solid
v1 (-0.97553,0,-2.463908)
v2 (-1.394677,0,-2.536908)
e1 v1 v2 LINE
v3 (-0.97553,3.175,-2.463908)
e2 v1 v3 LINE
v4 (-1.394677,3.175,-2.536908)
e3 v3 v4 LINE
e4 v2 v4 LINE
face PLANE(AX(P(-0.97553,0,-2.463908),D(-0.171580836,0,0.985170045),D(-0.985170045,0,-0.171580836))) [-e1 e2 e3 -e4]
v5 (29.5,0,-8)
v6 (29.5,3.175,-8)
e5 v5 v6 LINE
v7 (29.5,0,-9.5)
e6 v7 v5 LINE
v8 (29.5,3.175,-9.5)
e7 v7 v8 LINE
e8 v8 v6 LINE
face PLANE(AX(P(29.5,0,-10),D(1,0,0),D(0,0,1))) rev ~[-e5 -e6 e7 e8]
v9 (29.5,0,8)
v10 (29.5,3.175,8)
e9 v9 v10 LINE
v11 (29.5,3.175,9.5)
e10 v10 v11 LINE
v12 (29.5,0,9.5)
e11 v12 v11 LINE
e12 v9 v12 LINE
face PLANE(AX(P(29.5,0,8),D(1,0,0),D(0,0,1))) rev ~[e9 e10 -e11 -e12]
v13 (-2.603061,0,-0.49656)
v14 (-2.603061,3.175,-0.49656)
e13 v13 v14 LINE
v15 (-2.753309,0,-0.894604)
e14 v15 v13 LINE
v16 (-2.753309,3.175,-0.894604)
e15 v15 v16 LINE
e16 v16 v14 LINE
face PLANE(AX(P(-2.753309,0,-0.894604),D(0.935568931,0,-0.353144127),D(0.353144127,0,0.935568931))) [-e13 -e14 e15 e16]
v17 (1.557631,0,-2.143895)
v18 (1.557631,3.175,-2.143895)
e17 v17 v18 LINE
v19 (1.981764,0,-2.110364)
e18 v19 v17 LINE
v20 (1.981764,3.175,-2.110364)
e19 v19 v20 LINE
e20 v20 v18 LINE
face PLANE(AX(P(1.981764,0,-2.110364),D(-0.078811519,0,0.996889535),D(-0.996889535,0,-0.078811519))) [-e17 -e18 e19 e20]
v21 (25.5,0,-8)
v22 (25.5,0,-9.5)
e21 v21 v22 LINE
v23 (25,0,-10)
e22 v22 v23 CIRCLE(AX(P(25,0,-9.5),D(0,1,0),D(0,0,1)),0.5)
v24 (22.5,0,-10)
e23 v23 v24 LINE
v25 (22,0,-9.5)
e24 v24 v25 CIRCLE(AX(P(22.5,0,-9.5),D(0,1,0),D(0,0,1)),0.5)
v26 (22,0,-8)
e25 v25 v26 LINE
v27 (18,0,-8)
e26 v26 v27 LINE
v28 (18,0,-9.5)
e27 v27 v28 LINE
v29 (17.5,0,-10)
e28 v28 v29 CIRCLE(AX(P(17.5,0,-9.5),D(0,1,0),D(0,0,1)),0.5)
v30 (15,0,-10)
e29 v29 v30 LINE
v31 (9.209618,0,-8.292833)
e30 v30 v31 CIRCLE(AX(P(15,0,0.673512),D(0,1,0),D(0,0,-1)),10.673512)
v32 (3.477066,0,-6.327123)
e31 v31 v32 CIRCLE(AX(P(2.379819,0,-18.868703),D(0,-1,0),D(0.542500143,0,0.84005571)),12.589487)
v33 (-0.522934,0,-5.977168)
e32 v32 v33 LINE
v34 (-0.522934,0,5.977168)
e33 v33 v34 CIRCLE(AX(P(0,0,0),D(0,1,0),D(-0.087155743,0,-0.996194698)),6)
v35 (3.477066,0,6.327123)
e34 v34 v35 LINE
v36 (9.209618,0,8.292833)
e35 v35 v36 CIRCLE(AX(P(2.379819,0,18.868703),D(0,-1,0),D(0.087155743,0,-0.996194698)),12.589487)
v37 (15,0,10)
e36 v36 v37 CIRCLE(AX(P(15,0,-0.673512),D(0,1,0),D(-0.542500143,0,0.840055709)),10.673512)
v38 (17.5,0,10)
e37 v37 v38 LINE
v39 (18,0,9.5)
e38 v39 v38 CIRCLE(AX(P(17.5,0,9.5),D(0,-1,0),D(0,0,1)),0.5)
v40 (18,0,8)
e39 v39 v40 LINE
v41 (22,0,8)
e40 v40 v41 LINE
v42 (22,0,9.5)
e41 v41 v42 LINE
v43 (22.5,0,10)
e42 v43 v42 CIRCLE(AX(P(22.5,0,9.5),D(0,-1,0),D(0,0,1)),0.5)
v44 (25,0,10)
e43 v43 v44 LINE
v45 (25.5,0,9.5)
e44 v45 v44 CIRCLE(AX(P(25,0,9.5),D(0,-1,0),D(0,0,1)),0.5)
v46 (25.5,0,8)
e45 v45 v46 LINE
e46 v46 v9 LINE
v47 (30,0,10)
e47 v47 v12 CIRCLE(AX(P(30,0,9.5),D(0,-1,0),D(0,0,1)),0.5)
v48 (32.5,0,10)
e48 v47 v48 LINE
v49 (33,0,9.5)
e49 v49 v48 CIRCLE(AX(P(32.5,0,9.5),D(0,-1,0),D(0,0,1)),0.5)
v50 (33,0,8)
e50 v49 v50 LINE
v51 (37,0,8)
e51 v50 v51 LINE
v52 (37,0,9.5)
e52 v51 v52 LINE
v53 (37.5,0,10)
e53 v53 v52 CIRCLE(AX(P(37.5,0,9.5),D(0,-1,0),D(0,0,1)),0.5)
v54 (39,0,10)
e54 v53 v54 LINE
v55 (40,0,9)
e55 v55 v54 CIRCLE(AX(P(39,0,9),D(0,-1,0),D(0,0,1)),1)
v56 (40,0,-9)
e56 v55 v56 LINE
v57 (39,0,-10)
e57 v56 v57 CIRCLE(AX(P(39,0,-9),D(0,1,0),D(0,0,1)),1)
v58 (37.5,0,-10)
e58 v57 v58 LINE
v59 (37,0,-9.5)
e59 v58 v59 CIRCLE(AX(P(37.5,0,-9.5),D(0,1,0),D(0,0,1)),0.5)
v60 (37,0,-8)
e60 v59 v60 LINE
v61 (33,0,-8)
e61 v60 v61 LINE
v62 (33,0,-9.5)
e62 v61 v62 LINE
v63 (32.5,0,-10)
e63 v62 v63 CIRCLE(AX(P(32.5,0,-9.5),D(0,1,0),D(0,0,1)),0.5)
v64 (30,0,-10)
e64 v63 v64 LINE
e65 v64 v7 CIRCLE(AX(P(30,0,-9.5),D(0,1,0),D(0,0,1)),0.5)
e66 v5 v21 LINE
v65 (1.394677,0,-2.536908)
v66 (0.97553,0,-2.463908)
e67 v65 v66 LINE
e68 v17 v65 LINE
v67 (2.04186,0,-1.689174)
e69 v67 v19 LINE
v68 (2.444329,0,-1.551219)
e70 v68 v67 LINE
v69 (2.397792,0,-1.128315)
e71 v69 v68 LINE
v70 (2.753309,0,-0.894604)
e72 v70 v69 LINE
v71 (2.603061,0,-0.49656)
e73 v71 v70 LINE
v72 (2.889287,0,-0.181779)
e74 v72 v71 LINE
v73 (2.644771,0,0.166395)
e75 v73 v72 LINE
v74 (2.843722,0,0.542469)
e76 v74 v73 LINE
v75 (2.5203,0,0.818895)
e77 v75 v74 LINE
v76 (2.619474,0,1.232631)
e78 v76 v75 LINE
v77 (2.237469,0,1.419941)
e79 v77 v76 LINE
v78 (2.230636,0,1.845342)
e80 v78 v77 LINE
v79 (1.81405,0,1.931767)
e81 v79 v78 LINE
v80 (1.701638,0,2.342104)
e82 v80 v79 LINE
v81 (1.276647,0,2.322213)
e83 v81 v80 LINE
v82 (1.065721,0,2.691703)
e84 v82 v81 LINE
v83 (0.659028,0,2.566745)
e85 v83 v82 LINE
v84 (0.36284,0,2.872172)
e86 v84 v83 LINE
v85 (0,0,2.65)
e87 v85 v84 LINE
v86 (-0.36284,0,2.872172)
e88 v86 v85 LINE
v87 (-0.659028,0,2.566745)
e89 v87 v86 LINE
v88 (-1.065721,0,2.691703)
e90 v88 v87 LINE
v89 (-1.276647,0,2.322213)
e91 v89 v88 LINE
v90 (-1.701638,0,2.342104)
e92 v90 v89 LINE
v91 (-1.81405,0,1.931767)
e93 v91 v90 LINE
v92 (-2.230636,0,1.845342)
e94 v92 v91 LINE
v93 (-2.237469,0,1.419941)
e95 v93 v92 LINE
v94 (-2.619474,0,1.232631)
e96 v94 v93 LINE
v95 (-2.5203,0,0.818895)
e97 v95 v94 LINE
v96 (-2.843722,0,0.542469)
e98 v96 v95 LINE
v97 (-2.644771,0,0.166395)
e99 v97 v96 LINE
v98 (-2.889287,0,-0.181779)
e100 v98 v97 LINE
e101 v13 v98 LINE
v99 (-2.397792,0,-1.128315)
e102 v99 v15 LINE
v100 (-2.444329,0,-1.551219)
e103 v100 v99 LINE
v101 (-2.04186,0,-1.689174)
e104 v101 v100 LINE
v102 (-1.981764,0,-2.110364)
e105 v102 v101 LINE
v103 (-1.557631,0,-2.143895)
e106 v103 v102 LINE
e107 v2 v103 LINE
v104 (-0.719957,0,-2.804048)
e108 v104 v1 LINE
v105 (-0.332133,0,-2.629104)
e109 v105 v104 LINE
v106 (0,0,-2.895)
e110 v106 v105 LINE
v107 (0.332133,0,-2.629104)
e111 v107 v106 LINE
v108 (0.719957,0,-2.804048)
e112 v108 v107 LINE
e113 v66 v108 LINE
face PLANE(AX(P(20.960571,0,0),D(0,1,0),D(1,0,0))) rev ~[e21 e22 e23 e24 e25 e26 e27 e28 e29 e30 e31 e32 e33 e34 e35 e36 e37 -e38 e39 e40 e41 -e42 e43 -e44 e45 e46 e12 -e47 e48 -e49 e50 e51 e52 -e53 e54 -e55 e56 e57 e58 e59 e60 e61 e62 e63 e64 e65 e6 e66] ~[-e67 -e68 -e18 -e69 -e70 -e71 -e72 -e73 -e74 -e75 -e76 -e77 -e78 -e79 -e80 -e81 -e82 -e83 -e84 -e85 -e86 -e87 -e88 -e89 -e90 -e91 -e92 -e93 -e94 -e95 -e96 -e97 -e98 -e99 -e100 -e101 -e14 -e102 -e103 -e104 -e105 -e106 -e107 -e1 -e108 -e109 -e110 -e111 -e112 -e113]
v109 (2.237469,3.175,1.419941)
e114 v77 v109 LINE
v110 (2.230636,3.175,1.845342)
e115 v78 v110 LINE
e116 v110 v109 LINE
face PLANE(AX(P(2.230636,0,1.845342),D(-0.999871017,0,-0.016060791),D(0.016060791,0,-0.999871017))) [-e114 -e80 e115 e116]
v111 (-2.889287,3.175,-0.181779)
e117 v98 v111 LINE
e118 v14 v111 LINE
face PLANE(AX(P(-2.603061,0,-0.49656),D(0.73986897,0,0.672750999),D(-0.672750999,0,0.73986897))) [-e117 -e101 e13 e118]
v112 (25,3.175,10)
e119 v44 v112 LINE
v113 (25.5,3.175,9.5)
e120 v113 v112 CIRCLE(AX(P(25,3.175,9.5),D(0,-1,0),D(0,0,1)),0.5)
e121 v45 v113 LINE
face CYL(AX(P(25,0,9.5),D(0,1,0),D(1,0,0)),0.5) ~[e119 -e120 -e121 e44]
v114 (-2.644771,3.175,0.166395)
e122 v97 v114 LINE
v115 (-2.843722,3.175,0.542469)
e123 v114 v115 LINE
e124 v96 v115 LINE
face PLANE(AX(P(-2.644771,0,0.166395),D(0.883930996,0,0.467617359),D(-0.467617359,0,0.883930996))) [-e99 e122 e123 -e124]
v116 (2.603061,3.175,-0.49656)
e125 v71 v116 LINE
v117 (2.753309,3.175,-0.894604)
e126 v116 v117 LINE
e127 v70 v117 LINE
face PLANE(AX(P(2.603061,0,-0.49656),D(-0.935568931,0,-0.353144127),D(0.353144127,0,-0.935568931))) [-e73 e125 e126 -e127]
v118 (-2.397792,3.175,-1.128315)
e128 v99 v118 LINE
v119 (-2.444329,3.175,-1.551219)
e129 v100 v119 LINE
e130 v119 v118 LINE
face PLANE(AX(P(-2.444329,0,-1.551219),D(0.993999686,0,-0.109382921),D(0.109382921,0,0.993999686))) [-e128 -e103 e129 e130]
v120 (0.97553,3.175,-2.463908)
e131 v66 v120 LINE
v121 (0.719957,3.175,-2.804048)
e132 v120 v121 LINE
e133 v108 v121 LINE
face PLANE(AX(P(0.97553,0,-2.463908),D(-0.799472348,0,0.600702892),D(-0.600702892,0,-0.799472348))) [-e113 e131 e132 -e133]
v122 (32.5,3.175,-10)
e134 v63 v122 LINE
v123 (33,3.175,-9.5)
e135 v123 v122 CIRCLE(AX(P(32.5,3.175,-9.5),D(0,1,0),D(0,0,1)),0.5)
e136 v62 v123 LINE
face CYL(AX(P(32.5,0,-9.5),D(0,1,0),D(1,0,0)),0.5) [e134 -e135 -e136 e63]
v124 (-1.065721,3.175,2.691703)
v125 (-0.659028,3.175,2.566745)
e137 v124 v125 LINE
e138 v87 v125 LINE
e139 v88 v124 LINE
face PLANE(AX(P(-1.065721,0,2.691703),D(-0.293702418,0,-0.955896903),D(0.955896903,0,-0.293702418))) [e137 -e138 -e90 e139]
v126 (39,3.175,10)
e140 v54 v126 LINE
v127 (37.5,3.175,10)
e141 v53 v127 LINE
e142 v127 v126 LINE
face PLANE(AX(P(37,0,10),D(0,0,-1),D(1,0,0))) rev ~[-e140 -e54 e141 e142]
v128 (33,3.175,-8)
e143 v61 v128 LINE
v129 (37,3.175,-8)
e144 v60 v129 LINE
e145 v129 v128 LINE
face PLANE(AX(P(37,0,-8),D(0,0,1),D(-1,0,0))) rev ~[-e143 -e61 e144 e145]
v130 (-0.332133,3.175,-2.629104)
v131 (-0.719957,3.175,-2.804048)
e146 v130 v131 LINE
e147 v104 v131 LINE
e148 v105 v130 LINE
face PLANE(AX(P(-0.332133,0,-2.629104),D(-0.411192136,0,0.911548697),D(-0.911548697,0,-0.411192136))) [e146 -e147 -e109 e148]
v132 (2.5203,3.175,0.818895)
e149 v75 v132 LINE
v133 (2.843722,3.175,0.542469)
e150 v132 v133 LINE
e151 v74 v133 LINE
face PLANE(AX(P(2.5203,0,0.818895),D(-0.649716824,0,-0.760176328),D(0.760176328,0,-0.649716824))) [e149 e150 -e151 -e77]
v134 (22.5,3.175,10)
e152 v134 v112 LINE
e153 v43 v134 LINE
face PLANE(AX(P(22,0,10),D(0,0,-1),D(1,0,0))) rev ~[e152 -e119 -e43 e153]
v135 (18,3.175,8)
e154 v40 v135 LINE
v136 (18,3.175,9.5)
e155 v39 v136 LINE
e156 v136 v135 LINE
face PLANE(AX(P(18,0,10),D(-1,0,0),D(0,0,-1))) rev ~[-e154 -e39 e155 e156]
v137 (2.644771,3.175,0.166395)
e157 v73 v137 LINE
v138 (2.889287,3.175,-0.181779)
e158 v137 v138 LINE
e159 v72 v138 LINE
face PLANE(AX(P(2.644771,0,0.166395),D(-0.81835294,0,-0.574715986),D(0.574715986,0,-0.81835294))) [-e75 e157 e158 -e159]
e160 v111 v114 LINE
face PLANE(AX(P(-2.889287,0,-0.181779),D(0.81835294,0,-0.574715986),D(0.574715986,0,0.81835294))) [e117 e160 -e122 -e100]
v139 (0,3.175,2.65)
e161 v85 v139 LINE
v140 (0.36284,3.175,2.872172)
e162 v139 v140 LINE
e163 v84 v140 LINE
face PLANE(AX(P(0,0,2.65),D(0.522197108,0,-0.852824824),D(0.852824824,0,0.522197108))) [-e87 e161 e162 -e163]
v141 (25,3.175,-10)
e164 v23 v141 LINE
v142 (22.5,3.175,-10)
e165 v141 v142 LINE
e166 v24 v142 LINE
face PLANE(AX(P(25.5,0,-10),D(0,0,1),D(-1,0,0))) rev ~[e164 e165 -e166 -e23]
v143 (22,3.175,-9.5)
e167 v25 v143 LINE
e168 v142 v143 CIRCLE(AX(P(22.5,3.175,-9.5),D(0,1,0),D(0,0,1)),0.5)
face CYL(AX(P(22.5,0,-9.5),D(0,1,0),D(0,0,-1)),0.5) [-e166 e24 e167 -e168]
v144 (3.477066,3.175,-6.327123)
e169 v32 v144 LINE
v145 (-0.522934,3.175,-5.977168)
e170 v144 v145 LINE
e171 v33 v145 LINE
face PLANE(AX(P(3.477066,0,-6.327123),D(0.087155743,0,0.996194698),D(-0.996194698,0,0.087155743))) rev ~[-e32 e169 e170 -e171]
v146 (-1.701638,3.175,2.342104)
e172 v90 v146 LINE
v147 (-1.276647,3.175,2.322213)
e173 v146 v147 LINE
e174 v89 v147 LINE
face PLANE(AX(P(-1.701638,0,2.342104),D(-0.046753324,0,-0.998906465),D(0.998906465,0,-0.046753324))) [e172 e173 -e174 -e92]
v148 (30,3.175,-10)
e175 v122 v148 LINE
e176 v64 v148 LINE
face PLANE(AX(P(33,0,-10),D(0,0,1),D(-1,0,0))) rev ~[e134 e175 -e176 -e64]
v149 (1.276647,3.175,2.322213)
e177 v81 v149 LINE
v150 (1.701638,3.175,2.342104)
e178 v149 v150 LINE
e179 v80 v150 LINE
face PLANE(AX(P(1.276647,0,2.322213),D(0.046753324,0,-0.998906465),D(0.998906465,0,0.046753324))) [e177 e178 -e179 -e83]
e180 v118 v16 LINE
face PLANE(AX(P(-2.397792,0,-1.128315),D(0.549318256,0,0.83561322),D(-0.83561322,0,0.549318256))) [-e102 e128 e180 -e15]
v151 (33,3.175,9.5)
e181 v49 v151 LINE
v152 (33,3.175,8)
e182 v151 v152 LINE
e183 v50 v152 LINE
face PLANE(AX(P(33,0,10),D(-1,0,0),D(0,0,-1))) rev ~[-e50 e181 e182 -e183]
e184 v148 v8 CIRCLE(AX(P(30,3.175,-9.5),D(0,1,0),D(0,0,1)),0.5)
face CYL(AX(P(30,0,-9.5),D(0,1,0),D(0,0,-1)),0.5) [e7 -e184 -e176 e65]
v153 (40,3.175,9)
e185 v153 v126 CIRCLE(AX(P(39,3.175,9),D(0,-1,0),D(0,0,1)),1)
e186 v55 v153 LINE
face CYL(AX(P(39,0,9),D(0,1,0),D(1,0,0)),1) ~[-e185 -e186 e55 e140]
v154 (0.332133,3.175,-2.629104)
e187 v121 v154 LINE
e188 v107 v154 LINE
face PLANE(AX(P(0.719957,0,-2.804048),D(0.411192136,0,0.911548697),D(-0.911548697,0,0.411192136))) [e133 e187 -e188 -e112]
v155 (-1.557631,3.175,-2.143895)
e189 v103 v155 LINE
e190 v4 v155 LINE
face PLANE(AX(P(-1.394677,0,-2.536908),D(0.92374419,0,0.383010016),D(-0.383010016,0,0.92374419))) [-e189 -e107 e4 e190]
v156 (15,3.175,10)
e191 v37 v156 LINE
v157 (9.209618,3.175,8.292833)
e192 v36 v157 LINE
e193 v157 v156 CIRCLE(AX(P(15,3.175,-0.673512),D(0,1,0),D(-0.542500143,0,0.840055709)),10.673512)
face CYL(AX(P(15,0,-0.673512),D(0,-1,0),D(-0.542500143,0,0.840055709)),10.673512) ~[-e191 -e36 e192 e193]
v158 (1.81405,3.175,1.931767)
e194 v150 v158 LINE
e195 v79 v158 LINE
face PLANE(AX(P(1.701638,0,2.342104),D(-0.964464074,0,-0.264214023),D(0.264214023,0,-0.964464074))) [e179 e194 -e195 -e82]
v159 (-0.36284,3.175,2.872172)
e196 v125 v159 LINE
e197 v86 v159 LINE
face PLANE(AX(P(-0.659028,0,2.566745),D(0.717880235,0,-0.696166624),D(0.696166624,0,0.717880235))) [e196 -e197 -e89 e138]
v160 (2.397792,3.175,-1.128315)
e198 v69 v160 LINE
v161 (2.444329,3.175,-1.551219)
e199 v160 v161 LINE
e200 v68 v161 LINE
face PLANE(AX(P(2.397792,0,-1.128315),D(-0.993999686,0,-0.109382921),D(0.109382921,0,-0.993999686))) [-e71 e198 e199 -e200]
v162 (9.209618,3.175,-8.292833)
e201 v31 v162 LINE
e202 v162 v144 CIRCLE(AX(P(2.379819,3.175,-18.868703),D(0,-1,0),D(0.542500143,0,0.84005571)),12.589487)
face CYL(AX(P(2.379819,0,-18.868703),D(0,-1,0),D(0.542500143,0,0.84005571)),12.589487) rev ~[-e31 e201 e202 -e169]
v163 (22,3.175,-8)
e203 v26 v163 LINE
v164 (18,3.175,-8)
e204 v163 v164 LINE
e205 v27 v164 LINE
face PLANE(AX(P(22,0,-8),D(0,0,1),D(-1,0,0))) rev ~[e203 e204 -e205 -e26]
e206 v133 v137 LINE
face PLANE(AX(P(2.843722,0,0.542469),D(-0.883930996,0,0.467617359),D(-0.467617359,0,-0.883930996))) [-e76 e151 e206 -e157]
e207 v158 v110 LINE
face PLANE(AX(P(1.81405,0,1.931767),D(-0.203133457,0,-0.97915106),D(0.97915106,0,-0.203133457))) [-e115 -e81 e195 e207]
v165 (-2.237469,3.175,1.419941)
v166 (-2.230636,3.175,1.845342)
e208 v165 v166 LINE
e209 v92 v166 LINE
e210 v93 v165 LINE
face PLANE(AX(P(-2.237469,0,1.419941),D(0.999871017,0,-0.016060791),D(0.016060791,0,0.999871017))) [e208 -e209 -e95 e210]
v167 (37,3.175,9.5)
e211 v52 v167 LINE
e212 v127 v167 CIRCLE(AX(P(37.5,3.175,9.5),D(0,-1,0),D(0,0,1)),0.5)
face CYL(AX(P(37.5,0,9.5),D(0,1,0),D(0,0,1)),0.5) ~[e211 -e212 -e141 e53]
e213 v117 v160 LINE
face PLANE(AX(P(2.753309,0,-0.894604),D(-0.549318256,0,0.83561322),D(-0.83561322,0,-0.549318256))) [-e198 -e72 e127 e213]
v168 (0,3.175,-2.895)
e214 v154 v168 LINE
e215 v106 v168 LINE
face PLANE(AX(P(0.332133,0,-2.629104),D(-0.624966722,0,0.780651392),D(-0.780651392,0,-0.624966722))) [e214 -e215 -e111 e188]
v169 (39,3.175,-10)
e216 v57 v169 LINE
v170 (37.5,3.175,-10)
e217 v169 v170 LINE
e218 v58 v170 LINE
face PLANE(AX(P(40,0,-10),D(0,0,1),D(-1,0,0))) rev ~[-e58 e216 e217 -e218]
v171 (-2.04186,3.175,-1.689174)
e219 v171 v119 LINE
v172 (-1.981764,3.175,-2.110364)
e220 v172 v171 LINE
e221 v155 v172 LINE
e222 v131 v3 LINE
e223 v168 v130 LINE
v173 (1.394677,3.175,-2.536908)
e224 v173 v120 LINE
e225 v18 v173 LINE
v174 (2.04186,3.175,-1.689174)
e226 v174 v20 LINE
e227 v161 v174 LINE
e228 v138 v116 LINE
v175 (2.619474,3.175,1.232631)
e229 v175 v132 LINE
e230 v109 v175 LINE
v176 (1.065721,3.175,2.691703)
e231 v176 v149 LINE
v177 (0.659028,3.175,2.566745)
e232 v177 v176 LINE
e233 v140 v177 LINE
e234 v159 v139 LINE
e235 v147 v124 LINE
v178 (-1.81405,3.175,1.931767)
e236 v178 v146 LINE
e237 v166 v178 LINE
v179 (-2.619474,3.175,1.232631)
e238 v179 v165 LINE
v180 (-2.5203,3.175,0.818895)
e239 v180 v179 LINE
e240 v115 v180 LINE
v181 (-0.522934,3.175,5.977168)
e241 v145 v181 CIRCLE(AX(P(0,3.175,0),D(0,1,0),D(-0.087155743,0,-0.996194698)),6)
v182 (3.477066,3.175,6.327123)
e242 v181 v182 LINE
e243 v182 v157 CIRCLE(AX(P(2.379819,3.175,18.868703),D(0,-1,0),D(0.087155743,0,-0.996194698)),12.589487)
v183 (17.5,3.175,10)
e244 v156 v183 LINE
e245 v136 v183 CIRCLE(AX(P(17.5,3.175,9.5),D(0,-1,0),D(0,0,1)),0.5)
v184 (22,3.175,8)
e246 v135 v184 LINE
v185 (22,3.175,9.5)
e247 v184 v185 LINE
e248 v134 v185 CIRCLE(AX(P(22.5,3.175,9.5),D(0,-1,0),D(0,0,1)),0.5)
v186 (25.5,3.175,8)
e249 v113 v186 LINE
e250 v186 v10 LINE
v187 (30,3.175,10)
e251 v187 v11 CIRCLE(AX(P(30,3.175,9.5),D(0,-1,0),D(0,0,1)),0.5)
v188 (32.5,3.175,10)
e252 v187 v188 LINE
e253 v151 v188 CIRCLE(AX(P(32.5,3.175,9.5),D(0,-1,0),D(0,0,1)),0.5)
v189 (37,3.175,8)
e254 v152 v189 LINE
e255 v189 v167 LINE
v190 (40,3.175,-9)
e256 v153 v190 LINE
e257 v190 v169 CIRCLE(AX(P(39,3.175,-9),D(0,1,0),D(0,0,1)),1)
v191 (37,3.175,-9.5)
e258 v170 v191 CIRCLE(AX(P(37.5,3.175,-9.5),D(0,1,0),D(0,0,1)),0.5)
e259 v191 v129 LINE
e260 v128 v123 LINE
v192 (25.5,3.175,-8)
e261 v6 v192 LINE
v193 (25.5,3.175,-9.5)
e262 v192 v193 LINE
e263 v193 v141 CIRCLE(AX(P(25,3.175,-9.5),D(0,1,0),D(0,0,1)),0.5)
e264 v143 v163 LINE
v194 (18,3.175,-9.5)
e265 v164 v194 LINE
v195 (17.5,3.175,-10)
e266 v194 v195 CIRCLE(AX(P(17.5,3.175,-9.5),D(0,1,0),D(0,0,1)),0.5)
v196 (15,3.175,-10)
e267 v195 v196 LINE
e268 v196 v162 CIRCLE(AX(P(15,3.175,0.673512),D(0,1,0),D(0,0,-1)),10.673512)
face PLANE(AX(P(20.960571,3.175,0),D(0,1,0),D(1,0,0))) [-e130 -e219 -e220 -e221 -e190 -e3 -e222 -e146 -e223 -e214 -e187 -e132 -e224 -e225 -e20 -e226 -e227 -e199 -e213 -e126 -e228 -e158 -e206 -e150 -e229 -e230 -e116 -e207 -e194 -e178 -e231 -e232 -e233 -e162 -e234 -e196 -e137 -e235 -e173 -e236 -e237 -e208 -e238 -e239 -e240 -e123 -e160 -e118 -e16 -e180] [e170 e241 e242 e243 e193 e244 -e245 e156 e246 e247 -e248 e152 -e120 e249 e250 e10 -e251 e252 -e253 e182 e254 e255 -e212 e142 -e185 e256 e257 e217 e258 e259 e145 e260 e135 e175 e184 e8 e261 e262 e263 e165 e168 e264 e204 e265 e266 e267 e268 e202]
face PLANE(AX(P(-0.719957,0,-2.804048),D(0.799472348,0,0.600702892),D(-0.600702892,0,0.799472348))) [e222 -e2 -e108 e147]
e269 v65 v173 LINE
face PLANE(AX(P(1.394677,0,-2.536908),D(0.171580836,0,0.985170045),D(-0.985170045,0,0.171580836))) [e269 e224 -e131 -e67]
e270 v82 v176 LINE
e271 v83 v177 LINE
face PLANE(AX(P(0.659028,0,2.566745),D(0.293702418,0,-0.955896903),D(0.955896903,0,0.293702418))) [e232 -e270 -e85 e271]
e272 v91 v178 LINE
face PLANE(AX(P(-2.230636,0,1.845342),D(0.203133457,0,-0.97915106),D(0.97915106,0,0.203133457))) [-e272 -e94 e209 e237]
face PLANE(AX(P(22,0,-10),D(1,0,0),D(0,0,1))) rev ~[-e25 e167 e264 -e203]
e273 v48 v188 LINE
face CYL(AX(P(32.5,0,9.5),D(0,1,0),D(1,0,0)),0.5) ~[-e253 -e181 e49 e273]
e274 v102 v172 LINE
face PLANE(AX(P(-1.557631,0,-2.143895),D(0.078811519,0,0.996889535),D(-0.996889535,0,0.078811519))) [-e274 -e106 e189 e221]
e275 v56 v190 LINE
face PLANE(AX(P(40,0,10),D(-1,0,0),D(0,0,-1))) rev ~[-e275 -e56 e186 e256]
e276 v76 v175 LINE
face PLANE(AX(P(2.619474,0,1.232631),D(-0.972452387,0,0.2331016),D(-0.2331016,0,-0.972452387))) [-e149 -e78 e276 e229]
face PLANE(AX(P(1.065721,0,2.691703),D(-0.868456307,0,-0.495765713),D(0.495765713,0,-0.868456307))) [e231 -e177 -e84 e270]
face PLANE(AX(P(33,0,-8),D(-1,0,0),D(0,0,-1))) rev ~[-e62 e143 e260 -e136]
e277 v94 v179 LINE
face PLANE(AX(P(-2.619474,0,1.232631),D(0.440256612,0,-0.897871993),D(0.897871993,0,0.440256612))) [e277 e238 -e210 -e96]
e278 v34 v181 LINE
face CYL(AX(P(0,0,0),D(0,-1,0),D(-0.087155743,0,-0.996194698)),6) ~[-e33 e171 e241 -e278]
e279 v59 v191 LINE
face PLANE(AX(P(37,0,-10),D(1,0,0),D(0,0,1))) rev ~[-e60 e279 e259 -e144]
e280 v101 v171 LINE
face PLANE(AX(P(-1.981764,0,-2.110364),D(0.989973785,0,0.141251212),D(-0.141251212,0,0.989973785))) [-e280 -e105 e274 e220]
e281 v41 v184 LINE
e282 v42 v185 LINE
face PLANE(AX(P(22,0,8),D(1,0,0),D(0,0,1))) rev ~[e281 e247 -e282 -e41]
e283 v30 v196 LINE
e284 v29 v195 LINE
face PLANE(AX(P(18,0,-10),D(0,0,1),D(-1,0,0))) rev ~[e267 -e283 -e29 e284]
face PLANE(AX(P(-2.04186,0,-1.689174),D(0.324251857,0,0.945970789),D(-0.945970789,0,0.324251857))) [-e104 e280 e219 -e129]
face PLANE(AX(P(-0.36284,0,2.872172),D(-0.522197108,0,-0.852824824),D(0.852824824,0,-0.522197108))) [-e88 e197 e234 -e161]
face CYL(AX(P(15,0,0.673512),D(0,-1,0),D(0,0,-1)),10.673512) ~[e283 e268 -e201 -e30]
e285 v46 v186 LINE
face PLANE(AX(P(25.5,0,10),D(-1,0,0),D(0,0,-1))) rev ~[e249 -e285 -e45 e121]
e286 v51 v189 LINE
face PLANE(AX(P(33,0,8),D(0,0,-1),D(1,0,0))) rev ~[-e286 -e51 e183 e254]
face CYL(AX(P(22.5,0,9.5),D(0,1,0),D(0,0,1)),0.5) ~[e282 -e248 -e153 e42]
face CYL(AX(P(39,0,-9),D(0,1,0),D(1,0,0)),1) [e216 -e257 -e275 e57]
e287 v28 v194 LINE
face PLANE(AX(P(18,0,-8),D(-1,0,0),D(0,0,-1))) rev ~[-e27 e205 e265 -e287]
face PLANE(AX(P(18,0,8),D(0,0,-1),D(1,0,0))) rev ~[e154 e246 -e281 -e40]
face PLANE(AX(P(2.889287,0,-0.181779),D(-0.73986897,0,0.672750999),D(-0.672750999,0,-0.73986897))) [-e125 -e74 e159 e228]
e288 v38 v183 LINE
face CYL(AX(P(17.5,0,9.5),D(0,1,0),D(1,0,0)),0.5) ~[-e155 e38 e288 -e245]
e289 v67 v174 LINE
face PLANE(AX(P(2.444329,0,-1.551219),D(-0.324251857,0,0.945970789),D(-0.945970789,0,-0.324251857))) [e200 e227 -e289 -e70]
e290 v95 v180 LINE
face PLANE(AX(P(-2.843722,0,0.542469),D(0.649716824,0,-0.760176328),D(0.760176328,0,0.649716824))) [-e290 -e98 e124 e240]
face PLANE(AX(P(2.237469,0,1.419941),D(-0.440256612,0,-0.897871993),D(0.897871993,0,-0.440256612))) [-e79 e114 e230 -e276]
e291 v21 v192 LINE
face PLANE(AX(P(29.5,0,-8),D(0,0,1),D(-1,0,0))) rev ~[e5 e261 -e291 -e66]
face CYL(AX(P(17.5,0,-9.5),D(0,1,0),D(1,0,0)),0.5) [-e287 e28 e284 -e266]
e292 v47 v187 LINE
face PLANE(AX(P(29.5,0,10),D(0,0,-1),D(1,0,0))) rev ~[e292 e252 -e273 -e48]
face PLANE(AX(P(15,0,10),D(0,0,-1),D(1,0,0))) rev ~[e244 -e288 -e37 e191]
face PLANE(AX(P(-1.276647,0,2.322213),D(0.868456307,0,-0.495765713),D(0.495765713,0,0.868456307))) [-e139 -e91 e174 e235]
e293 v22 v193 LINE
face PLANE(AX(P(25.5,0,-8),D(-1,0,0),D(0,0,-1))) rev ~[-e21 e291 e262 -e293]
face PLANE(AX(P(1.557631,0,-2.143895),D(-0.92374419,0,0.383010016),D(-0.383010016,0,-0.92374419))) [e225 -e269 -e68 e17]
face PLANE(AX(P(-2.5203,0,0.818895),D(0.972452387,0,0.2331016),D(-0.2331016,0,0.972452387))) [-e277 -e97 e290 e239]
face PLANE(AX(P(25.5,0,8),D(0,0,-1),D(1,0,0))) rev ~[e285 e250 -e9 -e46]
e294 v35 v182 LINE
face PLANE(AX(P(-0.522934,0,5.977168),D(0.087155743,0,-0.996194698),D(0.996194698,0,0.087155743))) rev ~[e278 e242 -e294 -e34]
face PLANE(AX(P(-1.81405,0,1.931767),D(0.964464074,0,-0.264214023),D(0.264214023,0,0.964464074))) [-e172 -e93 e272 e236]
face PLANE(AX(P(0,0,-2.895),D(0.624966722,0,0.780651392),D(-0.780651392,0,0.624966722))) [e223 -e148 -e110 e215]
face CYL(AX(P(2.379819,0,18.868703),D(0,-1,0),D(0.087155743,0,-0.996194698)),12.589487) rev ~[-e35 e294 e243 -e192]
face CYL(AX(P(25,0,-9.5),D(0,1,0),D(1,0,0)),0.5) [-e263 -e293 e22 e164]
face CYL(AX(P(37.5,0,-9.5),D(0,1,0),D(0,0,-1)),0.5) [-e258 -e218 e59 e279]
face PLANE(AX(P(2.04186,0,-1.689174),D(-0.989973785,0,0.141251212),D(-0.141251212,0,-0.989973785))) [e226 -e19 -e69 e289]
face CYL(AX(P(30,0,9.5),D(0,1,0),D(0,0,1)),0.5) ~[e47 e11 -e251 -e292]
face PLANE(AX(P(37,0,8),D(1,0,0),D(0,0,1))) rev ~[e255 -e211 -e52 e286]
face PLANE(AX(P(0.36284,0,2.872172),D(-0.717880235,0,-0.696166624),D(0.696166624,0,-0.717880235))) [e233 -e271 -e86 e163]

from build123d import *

# Parameters (mm, degrees)
BOSS_EXTRUDE1_DEPTH = 3.175
FILLET2_R           = 1
FILLET3_R           = 0.5


with BuildPart() as part:
    # Sketch1 → Boss-Extrude1 (new body)
    with BuildSketch(Plane(origin=(0, 0, 0), x_dir=(1, 0, 0), z_dir=(0, 1, 0))):
        with BuildLine():
            Line((40, -10), (40, 10))
            Line((40, 10), (37, 10))
            Line((37, 10), (37, 8))
            Line((37, 8), (33, 8))
            Line((33, 8), (33, 10))
            Line((33, 10), (29.5, 10))
            Line((29.5, 10), (29.5, 8))
            Line((29.5, 8), (25.5, 8))
            Line((25.5, 8), (25.5, 10))
            Line((25.5, 10), (22, 10))
            Line((22, 10), (22, 8))
            Line((22, 8), (18, 8))
            Line((18, 8), (18, 10))
            Line((18, 10), (15, 10))
            ThreePointArc((15, 10), (11.981600452, 9.564316032), (9.209618064, 8.29283265))
            ThreePointArc((9.209618064, 8.29283265), (6.463385686, 6.959896642), (3.477065544, 6.327122843))
            Line((3.477065544, 6.327122843), (-0.522934456, 5.977168189))
            ThreePointArc((-0.522934456, 5.977168189), (-6, 0), (-0.522934456, -5.977168189))
            Line((-0.522934456, -5.977168189), (3.477065544, -6.327122843))
            ThreePointArc((3.477065544, -6.327122843), (6.463385686, -6.959896642), (9.209618064, -8.29283265))
            ThreePointArc((9.209618064, -8.29283265), (11.981600452, -9.564316032), (15, -10))
            Line((15, -10), (18, -10))
            Line((18, -10), (18, -8))
            Line((18, -8), (22, -8))
            Line((22, -8), (22, -10))
            Line((22, -10), (25.5, -10))
            Line((25.5, -10), (25.5, -8))
            Line((25.5, -8), (29.5, -8))
            Line((29.5, -8), (29.5, -10))
            Line((29.5, -10), (33, -10))
            Line((33, -10), (33, -8))
            Line((33, -8), (37, -8))
            Line((37, -8), (37, -10))
            Line((37, -10), (40, -10))
        make_face()
        Polygon((0, 2.895), (-0.332133069, 2.629103958), (-0.719957223, 2.804048251), (-0.975530065, 2.463907688), (-1.394676887, 2.536907839), (-1.557630919, 2.143895035), (-1.981763872, 2.110364176), (-2.041860093, 1.689173573), (-2.444329344, 1.551218571), (-2.397791689, 1.128315123), (-2.753308615, 0.894604199), (-2.603061214, 0.496560484), (-2.889287379, 0.181778554), (-2.64477083, -0.166394877), (-2.843721591, -0.542468906), (-2.520299768, -0.818895035), (-2.619474317, -1.232631049), (-2.237469003, -1.419941007), (-2.230635838, -1.84534245), (-1.814049831, -1.931766863), (-1.701638305, -2.342104199), (-1.276647236, -2.322212702), (-1.06572058, -2.691702927), (-0.659028201, -2.566745377), (-0.362839711, -2.87217206), (0, -2.65), (0.362839711, -2.87217206), (0.659028201, -2.566745377), (1.06572058, -2.691702927), (1.276647236, -2.322212702), (1.701638305, -2.342104199), (1.814049831, -1.931766863), (2.230635838, -1.84534245), (2.237469003, -1.419941007), (2.619474317, -1.232631049), (2.520299768, -0.818895035), (2.843721591, -0.542468906), (2.64477083, -0.166394877), (2.889287379, 0.181778554), (2.603061214, 0.496560484), (2.753308615, 0.894604199), (2.397791689, 1.128315123), (2.444329344, 1.551218571), (2.041860093, 1.689173573), (1.981763872, 2.110364176), (1.557630919, 2.143895035), (1.394676887, 2.536907839), (0.975530065, 2.463907688), (0.719957223, 2.804048251), (0.332133069, 2.629103958), align=None, mode=Mode.SUBTRACT)
    extrude(amount=BOSS_EXTRUDE1_DEPTH)

    # Fillet2
    fillet2_edges = [part.edges().sort_by_distance(p)[0] for p in [
        (40, 1.5875, -10),
        (40, 1.5875, 10),
    ]]
    fillet(fillet2_edges, radius=FILLET2_R)

    # Fillet3
    fillet3_edges = [part.edges().sort_by_distance(p)[0] for p in [
        (37, 1.5875, -10),
        (37, 1.5875, 10),
        (33, 1.5875, 10),
        (29.5, 1.5875, 10),
        (25.5, 1.5875, 10),
        (22, 1.5875, 10),
        (18, 1.5875, 10),
        (18, 1.5875, -10),
        (22, 1.5875, -10),
        (25.5, 1.5875, -10),
        (29.5, 1.5875, -10),
        (33, 1.5875, -10),
    ]]
    fillet(fillet3_edges, radius=FILLET3_R)


solid = part.part
